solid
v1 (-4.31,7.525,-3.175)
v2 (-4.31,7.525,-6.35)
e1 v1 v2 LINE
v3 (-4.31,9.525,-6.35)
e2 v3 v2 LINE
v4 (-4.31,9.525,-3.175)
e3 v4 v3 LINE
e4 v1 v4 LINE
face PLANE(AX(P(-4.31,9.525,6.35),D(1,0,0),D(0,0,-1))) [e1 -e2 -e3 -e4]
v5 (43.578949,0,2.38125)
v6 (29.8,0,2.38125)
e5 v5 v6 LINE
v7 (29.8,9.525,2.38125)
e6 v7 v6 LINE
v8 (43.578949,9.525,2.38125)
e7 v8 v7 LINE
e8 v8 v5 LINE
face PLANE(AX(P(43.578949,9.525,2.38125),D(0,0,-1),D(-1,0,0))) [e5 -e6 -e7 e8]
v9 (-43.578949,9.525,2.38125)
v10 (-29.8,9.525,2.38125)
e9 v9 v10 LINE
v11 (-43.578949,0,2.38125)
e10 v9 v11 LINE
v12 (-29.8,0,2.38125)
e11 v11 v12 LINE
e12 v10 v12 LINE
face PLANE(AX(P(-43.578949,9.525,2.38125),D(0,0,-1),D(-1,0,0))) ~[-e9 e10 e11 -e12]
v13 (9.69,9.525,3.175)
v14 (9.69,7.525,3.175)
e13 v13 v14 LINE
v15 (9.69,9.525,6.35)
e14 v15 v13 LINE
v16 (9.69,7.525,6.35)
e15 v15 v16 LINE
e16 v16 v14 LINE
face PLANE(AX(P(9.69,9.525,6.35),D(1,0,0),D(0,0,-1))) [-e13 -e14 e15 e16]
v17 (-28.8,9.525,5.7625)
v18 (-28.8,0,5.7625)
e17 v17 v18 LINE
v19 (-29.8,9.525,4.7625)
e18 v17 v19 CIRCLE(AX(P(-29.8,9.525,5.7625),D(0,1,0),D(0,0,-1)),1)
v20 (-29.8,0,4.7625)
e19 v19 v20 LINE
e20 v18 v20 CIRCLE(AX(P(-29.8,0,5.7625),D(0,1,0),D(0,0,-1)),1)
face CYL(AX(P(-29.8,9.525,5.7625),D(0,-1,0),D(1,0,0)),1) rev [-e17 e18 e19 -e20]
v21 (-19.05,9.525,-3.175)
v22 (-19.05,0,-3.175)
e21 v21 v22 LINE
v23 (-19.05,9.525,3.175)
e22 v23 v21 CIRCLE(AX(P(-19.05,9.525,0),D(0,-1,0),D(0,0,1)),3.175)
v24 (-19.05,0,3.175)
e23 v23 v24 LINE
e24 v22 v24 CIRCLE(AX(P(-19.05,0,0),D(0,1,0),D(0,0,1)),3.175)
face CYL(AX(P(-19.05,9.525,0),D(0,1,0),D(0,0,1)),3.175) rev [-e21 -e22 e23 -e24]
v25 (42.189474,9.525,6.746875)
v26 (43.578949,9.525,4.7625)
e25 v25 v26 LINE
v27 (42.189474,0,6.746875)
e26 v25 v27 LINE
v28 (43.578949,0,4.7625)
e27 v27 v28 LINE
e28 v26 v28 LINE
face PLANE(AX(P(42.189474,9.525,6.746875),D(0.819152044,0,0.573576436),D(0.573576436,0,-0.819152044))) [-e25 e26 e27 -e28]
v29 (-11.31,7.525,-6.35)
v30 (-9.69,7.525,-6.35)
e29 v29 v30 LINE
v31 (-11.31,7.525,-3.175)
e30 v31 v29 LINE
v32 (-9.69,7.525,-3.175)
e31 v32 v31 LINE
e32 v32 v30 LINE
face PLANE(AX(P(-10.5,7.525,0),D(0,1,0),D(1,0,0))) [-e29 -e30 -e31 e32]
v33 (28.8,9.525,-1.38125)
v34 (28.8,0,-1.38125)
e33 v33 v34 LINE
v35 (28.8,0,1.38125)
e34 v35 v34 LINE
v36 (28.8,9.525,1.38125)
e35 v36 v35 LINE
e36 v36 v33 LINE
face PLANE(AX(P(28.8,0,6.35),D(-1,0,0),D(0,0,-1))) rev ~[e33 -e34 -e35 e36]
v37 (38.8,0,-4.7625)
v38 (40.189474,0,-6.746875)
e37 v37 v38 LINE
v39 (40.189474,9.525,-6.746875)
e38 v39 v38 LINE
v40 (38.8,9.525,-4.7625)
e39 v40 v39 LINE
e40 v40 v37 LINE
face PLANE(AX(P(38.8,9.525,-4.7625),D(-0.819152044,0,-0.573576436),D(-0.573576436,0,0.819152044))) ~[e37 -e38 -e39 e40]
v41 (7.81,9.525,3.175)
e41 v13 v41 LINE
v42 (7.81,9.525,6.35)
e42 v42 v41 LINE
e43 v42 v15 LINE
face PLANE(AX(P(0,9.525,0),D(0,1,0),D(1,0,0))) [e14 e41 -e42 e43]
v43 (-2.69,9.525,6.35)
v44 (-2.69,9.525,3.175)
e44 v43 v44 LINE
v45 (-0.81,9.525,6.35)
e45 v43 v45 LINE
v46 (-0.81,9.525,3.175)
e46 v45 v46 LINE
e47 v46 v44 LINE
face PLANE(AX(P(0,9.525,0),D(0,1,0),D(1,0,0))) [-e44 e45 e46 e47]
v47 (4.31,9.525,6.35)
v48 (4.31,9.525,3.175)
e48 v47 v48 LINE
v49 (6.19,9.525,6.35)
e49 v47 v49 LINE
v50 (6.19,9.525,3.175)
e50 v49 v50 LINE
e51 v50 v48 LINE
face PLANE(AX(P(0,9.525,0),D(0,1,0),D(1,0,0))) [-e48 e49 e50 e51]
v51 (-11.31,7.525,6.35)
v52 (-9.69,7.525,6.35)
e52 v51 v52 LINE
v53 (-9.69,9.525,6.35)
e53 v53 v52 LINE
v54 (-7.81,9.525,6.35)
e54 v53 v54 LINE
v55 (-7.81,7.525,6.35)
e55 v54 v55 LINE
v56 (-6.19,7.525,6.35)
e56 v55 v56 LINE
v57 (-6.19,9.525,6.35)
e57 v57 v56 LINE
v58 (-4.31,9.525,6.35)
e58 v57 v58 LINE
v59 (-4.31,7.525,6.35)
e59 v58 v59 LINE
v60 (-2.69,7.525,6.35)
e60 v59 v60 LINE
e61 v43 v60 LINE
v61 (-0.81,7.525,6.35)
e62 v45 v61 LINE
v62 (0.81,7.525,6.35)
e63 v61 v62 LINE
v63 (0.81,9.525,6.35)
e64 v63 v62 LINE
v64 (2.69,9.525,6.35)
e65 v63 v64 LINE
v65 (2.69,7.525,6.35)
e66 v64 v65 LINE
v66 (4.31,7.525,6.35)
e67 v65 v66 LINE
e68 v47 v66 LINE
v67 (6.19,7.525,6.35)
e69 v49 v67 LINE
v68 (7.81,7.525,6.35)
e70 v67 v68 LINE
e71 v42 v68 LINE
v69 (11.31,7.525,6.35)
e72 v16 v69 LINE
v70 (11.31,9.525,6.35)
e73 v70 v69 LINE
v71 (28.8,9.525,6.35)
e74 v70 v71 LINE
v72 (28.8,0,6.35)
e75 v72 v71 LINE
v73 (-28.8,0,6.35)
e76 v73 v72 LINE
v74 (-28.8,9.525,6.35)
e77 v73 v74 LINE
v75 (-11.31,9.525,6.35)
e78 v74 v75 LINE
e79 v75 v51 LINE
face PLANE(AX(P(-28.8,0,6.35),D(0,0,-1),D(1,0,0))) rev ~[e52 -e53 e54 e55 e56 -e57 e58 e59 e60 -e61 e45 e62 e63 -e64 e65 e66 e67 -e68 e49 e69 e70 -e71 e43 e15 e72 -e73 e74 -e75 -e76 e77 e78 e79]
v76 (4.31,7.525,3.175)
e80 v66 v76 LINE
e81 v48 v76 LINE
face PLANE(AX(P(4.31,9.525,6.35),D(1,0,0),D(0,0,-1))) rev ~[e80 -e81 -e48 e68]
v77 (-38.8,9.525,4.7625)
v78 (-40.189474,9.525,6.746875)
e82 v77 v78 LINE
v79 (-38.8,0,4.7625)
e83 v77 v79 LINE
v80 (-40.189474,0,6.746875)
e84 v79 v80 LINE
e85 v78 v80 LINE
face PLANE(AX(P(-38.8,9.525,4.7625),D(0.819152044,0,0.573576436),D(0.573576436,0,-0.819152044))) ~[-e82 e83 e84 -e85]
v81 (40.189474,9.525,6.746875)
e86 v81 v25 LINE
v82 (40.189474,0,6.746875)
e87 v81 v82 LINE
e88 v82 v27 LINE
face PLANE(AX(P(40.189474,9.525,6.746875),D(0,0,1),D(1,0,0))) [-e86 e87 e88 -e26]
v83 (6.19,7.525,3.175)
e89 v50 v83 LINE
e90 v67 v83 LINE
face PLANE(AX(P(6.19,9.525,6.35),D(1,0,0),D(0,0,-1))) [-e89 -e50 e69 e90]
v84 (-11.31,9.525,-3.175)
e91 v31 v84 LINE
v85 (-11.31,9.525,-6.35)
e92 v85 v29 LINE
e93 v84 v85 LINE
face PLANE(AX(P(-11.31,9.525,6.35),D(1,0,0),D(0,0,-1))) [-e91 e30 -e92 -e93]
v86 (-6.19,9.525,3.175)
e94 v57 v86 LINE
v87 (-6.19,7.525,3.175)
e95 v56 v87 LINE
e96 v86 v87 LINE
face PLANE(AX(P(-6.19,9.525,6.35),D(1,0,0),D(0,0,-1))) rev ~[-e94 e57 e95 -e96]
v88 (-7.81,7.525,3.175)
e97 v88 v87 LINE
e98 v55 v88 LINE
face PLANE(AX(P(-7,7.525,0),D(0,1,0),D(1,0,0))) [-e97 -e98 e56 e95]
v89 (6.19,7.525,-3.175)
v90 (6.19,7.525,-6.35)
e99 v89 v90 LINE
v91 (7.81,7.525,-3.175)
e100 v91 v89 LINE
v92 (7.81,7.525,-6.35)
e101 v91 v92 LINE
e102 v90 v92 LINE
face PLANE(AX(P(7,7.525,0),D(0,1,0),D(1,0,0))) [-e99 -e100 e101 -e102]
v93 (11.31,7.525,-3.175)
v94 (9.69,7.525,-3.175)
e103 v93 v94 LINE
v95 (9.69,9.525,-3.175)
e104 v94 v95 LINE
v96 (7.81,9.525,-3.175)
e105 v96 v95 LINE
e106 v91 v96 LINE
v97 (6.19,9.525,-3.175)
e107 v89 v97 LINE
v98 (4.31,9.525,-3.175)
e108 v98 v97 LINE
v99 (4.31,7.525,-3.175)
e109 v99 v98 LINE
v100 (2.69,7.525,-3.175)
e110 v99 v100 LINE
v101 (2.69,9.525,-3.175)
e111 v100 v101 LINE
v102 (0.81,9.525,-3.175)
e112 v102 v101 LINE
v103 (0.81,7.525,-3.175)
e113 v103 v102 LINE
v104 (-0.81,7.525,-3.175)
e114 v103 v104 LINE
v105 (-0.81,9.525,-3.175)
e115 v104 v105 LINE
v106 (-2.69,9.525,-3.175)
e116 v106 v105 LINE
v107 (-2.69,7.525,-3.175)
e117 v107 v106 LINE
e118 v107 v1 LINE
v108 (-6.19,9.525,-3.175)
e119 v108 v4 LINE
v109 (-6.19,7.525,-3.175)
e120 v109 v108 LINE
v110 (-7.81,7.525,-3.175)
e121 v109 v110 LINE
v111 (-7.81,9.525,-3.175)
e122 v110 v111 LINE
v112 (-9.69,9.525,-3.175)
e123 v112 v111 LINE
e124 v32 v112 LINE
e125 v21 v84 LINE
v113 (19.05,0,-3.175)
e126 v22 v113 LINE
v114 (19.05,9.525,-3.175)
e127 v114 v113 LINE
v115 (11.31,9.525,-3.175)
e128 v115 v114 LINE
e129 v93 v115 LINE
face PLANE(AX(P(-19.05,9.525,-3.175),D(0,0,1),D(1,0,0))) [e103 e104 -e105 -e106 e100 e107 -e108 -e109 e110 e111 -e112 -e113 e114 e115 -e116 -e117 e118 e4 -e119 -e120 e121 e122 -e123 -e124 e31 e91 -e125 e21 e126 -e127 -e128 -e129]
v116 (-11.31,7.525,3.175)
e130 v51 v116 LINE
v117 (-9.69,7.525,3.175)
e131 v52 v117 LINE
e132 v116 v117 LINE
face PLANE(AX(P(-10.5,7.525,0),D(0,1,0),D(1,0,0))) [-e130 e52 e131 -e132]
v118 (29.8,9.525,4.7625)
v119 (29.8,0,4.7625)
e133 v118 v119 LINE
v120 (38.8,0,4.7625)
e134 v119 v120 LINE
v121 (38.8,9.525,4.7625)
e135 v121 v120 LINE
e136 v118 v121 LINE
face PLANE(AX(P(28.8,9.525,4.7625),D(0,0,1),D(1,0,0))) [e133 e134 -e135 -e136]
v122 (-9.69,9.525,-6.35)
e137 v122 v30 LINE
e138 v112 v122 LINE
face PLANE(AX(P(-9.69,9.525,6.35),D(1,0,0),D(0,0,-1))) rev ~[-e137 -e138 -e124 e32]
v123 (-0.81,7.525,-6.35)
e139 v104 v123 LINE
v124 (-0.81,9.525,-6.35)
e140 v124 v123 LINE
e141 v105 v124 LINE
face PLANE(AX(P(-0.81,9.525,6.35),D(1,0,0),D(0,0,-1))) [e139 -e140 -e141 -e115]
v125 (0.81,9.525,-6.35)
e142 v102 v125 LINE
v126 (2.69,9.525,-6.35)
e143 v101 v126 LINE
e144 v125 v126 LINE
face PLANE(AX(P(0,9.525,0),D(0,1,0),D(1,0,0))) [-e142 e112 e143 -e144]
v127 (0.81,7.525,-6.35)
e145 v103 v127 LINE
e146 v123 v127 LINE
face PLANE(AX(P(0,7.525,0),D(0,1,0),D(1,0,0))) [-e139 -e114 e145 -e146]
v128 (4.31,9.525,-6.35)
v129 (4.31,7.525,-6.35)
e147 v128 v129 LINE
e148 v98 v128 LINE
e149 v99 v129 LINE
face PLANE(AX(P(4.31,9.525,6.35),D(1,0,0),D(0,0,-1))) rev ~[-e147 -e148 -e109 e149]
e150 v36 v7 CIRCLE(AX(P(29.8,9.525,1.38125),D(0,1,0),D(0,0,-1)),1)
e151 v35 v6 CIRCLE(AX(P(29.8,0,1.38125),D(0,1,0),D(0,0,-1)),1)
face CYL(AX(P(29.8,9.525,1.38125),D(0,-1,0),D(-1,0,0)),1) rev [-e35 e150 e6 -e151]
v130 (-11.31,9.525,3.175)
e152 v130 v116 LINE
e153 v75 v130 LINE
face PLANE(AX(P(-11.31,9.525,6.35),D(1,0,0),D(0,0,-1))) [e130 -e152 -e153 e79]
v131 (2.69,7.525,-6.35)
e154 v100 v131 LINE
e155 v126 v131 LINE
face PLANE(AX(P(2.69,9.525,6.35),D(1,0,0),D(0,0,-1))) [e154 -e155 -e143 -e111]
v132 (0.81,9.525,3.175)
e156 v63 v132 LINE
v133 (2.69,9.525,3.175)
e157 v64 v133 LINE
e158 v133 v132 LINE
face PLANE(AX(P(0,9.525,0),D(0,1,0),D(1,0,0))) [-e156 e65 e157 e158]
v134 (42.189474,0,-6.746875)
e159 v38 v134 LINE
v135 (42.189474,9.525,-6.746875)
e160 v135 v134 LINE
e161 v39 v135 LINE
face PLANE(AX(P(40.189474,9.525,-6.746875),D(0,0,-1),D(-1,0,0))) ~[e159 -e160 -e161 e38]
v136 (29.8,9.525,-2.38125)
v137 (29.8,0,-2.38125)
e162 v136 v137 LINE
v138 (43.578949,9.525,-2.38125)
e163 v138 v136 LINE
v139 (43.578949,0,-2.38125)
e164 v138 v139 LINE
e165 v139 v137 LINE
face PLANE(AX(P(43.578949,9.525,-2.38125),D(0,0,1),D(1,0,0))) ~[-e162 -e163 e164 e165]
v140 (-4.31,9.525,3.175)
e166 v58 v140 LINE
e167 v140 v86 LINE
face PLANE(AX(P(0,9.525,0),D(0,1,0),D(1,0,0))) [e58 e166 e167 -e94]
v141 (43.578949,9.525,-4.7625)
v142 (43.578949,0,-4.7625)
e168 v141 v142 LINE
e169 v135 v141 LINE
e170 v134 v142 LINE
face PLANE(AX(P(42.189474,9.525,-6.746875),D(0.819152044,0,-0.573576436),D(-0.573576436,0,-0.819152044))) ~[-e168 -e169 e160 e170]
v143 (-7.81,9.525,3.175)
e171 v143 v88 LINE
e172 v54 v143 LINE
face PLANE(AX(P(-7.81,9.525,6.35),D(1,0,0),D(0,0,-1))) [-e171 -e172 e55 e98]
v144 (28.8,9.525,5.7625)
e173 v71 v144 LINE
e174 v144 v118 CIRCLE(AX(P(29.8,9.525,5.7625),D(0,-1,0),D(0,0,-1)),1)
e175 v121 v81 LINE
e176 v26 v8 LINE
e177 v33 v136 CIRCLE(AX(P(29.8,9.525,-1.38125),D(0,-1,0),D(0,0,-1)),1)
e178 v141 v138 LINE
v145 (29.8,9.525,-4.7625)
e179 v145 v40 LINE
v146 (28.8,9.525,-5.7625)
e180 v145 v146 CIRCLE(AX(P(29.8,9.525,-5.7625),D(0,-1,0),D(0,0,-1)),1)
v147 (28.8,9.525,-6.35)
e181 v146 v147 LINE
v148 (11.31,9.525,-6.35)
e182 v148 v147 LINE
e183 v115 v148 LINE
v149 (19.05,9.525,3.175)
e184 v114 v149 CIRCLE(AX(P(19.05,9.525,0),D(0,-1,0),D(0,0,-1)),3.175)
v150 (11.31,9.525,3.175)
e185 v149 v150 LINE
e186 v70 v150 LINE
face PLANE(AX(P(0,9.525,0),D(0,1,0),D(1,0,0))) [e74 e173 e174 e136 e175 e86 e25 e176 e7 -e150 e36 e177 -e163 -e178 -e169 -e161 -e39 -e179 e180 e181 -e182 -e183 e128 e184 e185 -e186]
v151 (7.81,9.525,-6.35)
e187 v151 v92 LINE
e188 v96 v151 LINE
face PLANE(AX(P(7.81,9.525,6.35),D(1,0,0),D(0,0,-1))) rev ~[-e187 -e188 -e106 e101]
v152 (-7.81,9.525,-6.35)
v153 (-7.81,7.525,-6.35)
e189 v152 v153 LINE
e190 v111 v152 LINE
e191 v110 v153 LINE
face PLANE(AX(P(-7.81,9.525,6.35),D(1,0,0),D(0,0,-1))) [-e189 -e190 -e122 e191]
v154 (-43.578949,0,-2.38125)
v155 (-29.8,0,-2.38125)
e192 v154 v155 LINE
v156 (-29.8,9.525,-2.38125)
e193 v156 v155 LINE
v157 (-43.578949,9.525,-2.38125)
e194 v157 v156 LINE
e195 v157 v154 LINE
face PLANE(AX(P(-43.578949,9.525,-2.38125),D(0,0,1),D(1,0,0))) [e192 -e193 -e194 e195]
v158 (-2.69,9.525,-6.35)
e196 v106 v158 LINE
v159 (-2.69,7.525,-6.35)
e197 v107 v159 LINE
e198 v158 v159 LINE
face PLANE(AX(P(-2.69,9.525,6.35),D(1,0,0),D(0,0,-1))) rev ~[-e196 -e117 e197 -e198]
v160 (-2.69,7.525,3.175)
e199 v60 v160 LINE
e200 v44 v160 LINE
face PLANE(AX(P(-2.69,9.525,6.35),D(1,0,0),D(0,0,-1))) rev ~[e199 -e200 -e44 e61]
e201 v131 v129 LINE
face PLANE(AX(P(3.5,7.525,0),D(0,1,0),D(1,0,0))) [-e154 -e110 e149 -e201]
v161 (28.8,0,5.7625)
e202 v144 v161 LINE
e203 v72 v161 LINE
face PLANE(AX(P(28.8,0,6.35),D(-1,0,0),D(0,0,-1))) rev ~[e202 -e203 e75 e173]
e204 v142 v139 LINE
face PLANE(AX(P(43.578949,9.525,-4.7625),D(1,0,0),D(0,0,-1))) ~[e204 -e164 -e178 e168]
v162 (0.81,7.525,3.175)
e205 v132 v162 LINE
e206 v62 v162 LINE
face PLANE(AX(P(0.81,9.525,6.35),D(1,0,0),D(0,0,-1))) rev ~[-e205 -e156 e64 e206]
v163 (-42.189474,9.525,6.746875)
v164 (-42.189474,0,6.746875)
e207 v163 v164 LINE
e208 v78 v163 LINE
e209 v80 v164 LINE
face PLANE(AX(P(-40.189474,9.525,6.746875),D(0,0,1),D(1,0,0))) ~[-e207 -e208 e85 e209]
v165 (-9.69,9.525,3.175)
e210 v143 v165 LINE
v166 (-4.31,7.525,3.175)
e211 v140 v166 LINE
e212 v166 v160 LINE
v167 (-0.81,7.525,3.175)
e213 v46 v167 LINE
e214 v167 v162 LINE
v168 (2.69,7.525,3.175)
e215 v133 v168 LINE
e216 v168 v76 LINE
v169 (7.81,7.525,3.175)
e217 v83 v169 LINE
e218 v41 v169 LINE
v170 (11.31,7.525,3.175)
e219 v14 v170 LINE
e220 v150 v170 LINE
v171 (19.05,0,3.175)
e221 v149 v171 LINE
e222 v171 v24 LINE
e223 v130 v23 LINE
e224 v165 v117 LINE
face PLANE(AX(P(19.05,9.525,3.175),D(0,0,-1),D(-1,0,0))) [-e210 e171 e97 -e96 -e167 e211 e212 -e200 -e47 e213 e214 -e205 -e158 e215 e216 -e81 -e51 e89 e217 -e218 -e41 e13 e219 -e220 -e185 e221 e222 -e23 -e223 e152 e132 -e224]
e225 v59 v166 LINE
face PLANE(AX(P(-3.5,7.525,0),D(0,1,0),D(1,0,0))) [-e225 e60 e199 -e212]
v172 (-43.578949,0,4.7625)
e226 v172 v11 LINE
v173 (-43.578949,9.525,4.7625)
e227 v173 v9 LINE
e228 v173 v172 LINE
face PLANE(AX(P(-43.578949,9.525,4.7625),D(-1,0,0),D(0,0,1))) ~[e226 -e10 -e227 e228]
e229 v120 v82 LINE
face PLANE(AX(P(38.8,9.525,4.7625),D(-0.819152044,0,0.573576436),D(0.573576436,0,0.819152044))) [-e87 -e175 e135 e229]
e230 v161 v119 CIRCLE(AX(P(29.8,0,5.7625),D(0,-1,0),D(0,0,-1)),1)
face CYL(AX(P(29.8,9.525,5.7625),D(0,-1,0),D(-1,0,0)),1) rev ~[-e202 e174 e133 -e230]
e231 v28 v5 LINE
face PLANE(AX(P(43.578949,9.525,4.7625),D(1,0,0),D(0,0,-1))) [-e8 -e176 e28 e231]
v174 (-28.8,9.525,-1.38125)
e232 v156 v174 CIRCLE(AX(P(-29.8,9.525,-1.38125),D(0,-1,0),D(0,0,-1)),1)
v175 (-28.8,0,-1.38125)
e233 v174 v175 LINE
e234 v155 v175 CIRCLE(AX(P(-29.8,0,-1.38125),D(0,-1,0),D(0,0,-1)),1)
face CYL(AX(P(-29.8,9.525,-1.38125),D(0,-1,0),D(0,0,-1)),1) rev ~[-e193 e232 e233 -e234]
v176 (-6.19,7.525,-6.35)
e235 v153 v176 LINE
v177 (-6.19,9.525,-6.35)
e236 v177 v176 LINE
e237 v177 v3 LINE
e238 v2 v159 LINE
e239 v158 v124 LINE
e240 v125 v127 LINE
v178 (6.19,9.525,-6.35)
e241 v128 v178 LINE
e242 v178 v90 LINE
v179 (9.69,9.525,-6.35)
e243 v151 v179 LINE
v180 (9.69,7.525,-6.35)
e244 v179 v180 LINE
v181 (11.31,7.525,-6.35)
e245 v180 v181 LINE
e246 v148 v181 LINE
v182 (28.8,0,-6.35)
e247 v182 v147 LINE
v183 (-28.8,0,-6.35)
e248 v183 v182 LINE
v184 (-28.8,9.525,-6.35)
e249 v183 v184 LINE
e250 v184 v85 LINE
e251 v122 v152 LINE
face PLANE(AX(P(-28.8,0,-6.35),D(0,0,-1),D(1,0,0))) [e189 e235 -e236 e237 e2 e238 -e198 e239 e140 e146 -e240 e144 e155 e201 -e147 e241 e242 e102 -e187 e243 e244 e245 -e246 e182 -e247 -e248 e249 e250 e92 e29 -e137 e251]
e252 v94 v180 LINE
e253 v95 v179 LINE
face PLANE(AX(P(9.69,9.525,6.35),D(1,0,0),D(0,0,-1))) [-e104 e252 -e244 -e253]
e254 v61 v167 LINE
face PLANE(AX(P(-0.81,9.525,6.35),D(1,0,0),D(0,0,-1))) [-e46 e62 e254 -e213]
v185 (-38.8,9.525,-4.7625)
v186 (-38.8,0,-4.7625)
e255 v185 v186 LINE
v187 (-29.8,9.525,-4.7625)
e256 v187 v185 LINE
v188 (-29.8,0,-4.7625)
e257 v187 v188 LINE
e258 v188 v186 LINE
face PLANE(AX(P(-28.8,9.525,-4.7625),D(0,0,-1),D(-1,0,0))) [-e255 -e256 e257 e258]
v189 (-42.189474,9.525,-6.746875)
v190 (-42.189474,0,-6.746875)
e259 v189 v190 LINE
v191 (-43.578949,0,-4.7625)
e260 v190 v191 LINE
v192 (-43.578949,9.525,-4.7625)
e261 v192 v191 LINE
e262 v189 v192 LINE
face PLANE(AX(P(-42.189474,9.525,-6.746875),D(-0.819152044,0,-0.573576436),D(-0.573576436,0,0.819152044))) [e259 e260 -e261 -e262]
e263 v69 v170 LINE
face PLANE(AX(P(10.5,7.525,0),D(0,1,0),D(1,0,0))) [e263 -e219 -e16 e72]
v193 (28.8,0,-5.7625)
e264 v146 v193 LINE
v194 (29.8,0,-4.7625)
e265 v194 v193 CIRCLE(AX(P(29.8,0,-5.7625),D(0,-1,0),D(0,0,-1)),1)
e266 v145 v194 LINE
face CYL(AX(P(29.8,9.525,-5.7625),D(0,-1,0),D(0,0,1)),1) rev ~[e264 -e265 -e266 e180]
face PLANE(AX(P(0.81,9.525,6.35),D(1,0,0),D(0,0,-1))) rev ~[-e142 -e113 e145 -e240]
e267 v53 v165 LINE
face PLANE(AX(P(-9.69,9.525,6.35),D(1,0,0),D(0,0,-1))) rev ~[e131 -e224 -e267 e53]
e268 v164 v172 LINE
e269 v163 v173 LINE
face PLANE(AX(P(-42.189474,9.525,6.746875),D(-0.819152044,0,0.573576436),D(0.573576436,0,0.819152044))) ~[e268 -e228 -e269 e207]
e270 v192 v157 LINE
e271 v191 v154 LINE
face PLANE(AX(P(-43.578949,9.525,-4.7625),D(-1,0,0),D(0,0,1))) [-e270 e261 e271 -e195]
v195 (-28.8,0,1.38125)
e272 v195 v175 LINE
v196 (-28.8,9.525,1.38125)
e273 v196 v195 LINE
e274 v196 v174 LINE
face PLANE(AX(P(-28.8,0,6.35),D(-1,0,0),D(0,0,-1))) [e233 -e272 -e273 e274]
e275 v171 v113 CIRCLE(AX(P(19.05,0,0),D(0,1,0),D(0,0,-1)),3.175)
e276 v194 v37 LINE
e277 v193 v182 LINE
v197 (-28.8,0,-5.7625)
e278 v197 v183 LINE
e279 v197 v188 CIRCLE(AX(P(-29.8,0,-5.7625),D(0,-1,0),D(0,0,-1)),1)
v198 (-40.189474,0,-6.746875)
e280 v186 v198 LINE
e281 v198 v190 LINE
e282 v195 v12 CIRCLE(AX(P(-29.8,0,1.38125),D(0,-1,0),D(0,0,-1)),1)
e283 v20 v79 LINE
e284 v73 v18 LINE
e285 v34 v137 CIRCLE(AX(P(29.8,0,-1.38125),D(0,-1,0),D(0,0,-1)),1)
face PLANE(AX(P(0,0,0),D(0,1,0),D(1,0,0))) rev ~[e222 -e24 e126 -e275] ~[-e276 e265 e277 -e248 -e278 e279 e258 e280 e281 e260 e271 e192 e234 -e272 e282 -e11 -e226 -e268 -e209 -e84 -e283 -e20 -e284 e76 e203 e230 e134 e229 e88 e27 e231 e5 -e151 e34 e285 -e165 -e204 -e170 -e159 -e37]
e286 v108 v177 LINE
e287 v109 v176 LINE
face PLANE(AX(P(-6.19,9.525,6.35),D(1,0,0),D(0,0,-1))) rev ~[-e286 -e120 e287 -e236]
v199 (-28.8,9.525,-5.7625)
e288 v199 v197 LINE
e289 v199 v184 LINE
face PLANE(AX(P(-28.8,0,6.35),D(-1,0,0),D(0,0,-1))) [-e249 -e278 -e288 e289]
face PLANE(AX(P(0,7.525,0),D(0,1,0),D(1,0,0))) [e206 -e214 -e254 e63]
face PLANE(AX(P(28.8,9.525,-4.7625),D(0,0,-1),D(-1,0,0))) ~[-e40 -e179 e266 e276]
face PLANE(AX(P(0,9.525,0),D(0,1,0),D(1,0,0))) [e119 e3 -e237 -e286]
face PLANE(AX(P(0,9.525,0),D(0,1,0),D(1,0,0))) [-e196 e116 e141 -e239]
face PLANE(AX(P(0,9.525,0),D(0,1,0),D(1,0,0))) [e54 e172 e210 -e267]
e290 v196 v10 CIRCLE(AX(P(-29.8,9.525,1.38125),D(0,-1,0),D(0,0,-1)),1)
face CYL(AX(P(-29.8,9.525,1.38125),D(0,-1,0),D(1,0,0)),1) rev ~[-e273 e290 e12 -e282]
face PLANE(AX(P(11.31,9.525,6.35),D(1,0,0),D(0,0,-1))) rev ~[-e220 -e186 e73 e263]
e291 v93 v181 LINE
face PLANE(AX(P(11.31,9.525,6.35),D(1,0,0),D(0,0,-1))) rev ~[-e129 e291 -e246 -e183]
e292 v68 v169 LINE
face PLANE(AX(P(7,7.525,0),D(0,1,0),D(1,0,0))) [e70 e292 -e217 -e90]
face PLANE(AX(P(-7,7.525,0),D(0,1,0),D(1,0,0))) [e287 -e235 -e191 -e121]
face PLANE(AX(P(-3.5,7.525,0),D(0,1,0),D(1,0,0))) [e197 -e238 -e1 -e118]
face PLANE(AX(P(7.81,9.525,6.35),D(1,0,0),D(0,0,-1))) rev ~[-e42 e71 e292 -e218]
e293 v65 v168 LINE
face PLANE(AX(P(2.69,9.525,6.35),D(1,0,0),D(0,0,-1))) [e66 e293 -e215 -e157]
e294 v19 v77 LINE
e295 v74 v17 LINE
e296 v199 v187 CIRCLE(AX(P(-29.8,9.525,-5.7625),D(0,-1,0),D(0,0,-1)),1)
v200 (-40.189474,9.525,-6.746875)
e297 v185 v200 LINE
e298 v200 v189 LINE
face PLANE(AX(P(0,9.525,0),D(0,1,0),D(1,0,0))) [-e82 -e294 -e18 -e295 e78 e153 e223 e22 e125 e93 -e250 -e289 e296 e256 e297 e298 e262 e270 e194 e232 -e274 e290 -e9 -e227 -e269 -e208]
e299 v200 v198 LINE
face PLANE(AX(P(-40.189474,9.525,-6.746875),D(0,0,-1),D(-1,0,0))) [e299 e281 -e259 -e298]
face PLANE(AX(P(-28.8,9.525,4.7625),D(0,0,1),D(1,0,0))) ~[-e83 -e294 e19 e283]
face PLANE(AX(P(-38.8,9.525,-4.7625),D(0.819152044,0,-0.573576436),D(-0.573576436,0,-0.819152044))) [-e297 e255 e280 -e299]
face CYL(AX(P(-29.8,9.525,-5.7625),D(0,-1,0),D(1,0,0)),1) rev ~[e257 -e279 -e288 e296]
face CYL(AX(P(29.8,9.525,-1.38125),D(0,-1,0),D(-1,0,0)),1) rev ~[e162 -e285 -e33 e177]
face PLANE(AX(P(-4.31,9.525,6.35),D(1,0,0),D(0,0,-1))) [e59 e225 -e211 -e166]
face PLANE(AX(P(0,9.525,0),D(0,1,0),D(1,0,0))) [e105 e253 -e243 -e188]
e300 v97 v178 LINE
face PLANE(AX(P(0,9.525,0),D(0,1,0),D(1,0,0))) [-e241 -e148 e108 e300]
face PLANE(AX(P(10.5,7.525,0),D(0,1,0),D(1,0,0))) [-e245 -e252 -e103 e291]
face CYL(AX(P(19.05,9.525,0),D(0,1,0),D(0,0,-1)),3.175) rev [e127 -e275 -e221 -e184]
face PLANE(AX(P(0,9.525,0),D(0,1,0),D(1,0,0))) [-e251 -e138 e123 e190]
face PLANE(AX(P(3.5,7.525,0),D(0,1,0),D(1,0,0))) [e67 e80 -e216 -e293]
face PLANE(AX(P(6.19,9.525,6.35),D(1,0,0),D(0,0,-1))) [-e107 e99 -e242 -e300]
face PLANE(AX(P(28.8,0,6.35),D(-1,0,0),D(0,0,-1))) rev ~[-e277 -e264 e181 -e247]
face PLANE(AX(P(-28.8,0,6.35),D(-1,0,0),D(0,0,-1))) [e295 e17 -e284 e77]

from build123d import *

# Parameters (mm, degrees)
SKETCH1_W            = 57.6
SKETCH1_H            = 12.7
BOSS_EXTRUDE1_DEPTH  = 9.525
BOSS_EXTRUDE2_DEPTH  = 9.525
MIRROR2_COPY_1_DEPTH = 9.525
FILLET1_R            = 1
CUT_EXTRUDE1_DEPTH   = 10.525
SKETCH3_W            = 1.62
SKETCH3_H            = 12.7
CUT_EXTRUDE2_DEPTH   = 2
LPATTERN1_COUNT      = 4
LPATTERN1_PITCH      = 3.5
LPATTERN1_COL_COUNT  = 4
LPATTERN1_COL_PITCH  = 3.5


with BuildPart() as part:
    # Sketch1 → Boss-Extrude1 (new body)
    with BuildSketch(Plane(origin=(0, 0, 0), x_dir=(1, 0, 0), z_dir=(0, 1, 0))):
        Rectangle(SKETCH1_W, SKETCH1_H)
    extrude(amount=BOSS_EXTRUDE1_DEPTH)

    # Sketch2 → Boss-Extrude2 (add)
    with BuildSketch(Plane(origin=(0, 9.525, 0), x_dir=(1, 0, 0), z_dir=(0, 1, 0))):
        Polygon((-28.8, 4.7625), (-38.8, 4.7625), (-40.189474334, 6.746875), (-42.189474334, 6.746875), (-43.578948667, 4.7625), (-43.578948667, 2.38125), (-28.8, 2.38125), align=None)
    boss_extrude2 = extrude(amount=-BOSS_EXTRUDE2_DEPTH)

    # Mirror1: Boss-Extrude2 across plane
    add(boss_extrude2.mirror(Plane(origin=(0, 0, 0), x_dir=(0, 0, 1), z_dir=(1, 0, 0))))

    # Mirror2: Boss-Extrude2 across plane
    add(boss_extrude2.mirror(Plane.XY))

    # Mirror2 copy 1 sketch → Mirror2 copy 1 (add)
    with BuildSketch(Plane(origin=(0, 9.525, 0), x_dir=(-1, 0, 0), z_dir=(0, 1, 0))):
        Polygon((-28.8, 4.7625), (-38.8, 4.7625), (-40.189474334, 6.746875), (-42.189474334, 6.746875), (-43.578948667, 4.7625), (-43.578948667, 2.38125), (-28.8, 2.38125), align=None)
    extrude(amount=-MIRROR2_COPY_1_DEPTH)

    # Fillet1
    fillet1_edges = [part.edges().sort_by_distance(p)[0] for p in [
        (-28.8, 4.7625, -4.7625),
        (-28.8, 4.7625, -2.38125),
        (28.8, 4.7625, -4.7625),
        (28.8, 4.7625, -2.38125),
        (-28.8, 4.7625, 4.7625),
        (-28.8, 4.7625, 2.38125),
        (28.8, 4.7625, 4.7625),
        (28.8, 4.7625, 2.38125),
    ]]
    fillet(fillet1_edges, radius=FILLET1_R)

    # Sketch4 → Cut-Extrude1 (cut, through all)
    with BuildSketch(Plane(origin=(0, 9.525, 0), x_dir=(1, 0, 0), z_dir=(0, 1, 0))):
        with BuildLine():
            Line((-19.05, 3.175), (19.05, 3.175))
            ThreePointArc((19.05, 3.175), (22.225, 0), (19.05, -3.175))
            Line((19.05, -3.175), (-19.05, -3.175))
            ThreePointArc((-19.05, -3.175), (-22.225, 0), (-19.05, 3.175))
        make_face()
    extrude(amount=-CUT_EXTRUDE1_DEPTH, mode=Mode.SUBTRACT)

    # Sketch3 → Cut-Extrude2 (cut)
    with BuildSketch(Plane(origin=(0, 9.525, 0), x_dir=(1, 0, 0), z_dir=(0, 1, 0))):
        Rectangle(SKETCH3_W, SKETCH3_H)
    cut_extrude2 = extrude(amount=-CUT_EXTRUDE2_DEPTH, mode=Mode.SUBTRACT)

    # LPattern1: Cut-Extrude2 ×4
    with Locations(*[(-i * LPATTERN1_PITCH, 0, 0) for i in range(1, LPATTERN1_COUNT)]):
        add(cut_extrude2, mode=Mode.SUBTRACT)

    # LPattern1 col: Cut-Extrude2 ×4
    with Locations(*[(i * LPATTERN1_COL_PITCH, 0, 0) for i in range(1, LPATTERN1_COL_COUNT)]):
        add(cut_extrude2, mode=Mode.SUBTRACT)


solid = part.part
